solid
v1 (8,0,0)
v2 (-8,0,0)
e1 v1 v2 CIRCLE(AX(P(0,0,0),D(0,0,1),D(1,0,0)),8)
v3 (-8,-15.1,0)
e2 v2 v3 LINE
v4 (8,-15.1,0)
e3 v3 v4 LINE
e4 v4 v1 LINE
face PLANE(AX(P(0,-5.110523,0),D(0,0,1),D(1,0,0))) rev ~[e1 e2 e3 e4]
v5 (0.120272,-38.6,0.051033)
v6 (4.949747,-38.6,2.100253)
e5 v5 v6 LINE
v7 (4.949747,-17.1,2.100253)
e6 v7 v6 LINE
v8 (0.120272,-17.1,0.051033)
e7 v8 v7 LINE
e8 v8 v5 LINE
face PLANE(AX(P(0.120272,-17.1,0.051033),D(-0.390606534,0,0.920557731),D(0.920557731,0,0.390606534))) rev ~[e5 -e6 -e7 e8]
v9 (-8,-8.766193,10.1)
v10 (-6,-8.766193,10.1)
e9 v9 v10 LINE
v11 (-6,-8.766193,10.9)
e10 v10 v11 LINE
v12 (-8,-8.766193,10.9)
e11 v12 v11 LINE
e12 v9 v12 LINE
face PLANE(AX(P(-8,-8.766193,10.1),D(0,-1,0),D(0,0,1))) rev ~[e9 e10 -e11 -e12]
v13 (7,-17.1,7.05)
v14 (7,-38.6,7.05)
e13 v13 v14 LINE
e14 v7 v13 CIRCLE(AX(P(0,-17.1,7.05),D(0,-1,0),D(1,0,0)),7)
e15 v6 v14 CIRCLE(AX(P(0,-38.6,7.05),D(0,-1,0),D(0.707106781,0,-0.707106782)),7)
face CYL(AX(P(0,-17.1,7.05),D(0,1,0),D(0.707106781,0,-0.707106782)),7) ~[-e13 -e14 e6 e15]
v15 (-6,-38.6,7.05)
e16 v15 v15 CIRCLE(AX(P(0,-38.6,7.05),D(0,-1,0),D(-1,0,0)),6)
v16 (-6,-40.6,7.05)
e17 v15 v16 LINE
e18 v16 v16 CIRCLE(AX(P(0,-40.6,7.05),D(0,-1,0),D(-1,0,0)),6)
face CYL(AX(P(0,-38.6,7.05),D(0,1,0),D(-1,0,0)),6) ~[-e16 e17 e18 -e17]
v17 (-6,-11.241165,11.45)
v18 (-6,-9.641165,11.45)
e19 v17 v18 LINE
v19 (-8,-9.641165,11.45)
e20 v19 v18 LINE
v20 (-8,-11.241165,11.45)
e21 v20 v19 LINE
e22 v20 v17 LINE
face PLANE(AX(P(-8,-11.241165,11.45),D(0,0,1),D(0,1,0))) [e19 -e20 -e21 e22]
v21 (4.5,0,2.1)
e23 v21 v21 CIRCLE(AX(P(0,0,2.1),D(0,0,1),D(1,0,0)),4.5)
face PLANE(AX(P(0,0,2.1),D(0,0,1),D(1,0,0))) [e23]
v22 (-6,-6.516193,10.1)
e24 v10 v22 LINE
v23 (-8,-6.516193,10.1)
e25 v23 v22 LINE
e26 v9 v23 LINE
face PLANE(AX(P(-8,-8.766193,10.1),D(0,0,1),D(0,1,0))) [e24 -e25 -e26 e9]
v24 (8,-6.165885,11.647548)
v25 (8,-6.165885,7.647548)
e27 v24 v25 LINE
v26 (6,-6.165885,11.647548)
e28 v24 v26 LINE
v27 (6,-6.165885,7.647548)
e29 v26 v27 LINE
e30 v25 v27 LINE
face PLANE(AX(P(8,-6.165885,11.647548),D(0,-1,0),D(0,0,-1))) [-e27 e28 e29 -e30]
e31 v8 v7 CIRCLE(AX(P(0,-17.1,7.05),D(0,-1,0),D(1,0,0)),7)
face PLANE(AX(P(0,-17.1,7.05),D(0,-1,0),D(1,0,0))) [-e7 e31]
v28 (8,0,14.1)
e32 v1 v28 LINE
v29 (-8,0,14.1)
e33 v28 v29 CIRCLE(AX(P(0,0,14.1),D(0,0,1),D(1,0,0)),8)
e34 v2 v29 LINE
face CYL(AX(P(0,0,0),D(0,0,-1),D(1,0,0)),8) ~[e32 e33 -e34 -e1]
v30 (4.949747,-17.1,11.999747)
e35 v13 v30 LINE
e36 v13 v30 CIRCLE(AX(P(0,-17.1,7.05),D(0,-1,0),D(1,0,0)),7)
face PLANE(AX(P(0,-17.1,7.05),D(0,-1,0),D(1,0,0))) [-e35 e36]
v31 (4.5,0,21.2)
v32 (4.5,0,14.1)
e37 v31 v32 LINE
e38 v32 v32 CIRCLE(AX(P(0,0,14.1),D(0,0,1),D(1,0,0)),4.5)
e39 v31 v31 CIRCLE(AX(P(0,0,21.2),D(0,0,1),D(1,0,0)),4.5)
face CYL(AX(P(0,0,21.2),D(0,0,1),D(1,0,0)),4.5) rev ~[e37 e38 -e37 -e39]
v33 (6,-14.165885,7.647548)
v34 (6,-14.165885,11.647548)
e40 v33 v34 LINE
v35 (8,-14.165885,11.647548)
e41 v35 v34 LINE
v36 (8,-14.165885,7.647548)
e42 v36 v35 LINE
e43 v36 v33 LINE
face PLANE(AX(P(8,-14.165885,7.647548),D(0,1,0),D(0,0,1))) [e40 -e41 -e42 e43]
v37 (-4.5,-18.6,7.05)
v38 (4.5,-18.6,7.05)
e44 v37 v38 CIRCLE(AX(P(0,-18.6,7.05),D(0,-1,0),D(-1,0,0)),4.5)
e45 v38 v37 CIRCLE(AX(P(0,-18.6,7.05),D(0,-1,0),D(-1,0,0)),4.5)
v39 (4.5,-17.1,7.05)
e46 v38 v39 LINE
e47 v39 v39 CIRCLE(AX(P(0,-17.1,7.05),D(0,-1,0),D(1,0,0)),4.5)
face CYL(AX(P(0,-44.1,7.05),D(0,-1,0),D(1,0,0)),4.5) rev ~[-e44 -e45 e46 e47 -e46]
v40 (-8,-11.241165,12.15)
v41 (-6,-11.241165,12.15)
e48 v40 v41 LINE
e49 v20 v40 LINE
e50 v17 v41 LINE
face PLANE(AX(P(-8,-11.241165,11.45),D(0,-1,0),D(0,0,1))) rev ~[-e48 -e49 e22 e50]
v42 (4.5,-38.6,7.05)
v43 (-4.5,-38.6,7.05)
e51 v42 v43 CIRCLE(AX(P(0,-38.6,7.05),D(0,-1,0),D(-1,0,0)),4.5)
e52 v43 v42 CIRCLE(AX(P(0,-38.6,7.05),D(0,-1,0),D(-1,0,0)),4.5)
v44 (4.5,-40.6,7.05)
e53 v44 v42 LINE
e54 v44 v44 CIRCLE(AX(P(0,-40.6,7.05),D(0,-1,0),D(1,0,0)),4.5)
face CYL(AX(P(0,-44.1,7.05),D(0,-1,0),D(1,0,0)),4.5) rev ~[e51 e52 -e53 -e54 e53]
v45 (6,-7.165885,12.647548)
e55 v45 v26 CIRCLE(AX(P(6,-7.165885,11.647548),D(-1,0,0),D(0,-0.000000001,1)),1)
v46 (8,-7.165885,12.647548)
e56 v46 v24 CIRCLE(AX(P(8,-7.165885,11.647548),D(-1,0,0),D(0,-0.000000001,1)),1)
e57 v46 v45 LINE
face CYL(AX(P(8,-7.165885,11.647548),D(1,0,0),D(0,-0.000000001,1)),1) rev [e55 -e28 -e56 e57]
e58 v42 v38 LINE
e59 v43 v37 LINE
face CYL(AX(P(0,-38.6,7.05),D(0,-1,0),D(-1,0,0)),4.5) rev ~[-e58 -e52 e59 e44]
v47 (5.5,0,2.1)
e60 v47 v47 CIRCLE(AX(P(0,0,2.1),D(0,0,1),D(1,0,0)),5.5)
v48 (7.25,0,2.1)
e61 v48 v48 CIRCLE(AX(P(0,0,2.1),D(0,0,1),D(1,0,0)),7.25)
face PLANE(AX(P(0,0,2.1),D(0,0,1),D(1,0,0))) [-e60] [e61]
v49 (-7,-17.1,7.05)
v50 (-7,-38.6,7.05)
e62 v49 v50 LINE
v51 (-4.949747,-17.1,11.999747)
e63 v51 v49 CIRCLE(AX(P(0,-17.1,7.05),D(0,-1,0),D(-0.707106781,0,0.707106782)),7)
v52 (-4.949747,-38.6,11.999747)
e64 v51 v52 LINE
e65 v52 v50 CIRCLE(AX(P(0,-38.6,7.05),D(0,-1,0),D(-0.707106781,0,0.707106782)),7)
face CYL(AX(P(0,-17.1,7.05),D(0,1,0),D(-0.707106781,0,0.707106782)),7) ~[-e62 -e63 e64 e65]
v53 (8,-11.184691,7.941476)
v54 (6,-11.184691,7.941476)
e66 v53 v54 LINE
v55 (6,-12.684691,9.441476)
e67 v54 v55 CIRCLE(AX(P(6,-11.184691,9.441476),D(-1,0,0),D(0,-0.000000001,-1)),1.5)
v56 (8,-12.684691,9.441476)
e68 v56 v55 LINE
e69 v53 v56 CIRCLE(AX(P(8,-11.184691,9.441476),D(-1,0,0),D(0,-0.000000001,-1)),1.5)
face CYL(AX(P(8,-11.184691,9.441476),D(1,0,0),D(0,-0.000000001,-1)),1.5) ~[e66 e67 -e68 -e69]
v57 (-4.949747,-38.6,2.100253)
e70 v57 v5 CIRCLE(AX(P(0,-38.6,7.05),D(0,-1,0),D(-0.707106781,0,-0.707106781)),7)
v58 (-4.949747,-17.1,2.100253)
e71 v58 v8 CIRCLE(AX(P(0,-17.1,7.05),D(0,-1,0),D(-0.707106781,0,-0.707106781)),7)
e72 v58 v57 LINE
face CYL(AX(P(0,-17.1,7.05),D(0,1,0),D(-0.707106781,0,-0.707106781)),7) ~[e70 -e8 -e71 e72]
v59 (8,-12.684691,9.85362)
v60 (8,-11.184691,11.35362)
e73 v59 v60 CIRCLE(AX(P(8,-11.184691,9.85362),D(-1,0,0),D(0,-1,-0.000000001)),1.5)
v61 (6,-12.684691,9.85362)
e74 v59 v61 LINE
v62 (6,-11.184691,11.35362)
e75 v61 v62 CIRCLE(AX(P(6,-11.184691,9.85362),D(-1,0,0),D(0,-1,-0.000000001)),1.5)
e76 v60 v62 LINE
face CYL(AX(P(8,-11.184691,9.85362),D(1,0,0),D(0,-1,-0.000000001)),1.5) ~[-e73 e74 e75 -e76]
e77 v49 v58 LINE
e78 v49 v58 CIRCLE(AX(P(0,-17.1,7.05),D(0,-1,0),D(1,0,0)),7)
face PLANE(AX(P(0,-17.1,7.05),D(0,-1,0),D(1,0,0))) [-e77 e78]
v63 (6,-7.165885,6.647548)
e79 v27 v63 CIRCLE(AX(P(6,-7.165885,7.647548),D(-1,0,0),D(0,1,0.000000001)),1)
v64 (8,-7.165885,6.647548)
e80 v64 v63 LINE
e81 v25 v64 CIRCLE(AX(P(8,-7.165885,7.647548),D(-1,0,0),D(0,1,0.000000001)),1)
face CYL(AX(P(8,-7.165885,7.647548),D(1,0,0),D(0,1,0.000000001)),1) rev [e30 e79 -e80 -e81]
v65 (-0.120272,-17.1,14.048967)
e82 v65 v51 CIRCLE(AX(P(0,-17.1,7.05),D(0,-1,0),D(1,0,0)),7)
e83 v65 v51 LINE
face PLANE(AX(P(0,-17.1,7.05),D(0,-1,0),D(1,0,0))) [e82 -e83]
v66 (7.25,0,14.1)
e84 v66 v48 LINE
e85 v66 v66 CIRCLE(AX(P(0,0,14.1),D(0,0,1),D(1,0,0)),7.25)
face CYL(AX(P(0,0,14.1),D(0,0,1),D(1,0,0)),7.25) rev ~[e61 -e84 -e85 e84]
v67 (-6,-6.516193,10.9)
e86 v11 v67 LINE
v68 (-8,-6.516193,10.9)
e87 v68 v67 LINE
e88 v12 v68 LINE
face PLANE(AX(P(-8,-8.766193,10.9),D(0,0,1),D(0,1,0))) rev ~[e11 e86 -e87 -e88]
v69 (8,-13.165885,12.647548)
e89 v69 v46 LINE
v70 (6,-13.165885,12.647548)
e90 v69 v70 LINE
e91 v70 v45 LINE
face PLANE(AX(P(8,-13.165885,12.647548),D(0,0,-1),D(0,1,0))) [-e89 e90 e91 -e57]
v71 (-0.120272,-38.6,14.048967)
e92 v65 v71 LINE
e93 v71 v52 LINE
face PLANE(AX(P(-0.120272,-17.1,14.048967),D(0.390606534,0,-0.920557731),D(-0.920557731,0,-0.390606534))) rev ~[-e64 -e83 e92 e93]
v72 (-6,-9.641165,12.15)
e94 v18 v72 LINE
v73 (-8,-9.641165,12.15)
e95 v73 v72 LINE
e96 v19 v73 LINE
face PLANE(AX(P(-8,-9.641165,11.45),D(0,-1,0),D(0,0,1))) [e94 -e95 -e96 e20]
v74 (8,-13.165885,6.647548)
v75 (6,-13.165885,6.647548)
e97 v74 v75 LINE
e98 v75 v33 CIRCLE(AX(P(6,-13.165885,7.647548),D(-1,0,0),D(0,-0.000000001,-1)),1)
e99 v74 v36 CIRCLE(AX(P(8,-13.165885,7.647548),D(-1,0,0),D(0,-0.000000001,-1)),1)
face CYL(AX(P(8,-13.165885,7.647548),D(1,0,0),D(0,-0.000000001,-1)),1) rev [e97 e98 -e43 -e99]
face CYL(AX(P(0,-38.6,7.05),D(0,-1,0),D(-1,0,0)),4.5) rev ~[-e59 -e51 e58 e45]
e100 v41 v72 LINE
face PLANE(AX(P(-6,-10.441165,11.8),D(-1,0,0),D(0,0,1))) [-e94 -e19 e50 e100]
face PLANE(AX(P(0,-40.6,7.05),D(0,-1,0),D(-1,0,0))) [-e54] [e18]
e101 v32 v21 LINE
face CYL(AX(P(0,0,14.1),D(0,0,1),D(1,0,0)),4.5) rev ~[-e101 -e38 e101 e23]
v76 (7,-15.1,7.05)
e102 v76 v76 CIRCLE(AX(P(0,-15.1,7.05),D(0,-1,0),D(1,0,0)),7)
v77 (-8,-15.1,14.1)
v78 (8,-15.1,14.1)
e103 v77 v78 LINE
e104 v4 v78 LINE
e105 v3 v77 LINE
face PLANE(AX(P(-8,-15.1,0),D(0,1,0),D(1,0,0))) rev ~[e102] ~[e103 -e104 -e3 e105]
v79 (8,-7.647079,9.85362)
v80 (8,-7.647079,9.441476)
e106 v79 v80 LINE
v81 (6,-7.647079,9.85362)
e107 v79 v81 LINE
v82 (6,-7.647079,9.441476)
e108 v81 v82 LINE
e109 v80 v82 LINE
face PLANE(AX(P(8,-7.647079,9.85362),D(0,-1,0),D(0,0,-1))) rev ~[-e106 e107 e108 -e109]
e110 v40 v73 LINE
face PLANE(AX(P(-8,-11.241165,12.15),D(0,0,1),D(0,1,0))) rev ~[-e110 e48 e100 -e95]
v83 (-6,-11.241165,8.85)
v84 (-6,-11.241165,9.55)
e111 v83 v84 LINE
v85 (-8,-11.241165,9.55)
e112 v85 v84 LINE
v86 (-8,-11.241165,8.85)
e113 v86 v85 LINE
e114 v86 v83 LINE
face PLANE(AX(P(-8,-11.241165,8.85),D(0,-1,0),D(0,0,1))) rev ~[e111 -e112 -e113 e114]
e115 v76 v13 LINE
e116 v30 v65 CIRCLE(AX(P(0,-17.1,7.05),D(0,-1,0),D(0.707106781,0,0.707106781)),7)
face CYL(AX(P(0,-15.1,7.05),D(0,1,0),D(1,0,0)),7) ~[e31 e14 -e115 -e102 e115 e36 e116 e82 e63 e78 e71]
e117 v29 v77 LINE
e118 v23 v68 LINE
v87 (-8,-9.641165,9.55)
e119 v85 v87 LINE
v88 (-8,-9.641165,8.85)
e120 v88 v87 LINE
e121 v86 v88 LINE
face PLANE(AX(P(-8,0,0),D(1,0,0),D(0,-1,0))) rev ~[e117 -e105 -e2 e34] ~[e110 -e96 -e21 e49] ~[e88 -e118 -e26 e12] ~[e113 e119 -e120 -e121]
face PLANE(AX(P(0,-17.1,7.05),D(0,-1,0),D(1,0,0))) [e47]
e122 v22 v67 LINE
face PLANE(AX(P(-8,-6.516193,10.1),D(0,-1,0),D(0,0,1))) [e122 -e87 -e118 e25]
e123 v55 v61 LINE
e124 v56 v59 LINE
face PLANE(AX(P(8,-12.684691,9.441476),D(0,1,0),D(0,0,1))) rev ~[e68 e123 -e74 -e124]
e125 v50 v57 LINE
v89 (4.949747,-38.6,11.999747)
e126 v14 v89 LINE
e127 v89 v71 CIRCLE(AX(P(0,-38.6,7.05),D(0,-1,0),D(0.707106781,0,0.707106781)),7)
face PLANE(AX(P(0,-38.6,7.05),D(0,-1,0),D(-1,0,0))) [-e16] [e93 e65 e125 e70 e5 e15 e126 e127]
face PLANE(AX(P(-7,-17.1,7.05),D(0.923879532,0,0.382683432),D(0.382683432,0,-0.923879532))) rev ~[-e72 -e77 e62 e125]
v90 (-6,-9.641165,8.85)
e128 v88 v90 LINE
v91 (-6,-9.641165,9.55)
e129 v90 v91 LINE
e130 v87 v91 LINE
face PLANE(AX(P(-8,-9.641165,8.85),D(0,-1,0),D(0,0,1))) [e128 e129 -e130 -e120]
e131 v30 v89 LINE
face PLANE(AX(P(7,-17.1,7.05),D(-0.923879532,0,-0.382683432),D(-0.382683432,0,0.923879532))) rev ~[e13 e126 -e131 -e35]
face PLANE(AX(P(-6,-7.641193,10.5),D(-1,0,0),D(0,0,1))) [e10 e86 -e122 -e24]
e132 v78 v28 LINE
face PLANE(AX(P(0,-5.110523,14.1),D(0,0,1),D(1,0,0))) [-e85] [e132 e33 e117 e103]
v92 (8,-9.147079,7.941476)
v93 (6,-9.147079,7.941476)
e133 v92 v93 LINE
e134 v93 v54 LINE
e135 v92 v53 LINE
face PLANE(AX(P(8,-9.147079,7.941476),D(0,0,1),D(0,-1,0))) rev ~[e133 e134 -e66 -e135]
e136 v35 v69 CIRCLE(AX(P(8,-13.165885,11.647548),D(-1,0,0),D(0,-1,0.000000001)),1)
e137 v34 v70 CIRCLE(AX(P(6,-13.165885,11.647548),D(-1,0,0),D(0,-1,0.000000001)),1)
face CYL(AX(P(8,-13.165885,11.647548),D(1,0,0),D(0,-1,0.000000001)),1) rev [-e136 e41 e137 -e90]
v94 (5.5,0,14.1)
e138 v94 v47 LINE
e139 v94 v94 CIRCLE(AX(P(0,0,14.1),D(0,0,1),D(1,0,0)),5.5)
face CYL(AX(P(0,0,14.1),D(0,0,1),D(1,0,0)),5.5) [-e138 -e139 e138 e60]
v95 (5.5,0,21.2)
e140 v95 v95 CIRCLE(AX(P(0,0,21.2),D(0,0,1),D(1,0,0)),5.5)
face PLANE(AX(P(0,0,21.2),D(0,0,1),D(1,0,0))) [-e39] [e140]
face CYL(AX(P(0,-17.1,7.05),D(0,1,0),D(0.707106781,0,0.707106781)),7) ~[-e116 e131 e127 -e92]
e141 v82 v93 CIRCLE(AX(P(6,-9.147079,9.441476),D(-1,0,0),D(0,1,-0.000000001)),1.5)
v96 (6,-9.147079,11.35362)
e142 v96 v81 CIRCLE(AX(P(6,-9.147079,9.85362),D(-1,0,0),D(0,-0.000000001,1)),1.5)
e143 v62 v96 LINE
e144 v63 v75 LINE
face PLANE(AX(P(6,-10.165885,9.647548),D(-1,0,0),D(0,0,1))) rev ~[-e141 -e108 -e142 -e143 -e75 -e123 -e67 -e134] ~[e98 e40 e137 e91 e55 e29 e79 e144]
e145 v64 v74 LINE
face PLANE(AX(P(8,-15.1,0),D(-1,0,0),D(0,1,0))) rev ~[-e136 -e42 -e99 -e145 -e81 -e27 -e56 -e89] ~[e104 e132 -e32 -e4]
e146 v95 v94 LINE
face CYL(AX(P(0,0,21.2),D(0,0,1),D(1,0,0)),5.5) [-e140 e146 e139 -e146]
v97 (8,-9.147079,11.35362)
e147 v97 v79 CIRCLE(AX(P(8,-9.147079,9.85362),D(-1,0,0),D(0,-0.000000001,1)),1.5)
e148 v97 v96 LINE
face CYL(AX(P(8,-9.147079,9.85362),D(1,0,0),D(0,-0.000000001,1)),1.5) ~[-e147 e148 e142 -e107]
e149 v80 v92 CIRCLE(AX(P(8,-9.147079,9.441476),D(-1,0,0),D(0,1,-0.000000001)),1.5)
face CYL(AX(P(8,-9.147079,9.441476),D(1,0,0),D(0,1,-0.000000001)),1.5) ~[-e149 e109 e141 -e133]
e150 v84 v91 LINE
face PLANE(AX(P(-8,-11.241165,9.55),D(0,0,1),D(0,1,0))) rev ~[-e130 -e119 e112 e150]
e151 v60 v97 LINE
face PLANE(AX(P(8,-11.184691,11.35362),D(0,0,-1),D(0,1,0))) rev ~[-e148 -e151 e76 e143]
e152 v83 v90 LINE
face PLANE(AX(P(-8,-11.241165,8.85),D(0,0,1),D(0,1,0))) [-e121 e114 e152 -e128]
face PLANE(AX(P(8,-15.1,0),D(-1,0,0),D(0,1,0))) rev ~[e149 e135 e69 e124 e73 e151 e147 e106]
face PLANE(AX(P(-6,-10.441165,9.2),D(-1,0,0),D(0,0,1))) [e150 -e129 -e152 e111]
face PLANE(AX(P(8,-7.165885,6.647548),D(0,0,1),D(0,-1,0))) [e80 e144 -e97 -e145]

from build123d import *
from build123d.topology import SkipClean

# Parameters (mm, degrees)
BOSS_EXTRUDE1_DEPTH = 14.1
SKETCH2_R           = 7
BOSS_EXTRUDE2_DEPTH = 2
BOSS_EXTRUDE6_DEPTH = 21.5
SKETCH9_R           = 4.5
CUT_EXTRUDE6_DEPTH  = 20
SKETCH11_R          = 6
BOSS_EXTRUDE8_DEPTH = 2
CUT_EXTRUDE7_START  = 27
SKETCH3_R           = 4.5
CUT_EXTRUDE7_DEPTH  = 27
SKETCH12_R          = 4.5
CUT_EXTRUDE8_DEPTH  = 12
SKETCH12_3_R        = 7.25
SKETCH12_3_R_2      = 5.5
CUT_EXTRUDE9_DEPTH  = 12
BOSS_EXTRUDE9_START = 7.1
SKETCH12_4_R        = 5.5
SKETCH12_4_R_2      = 4.5
BOSS_EXTRUDE9_DEPTH = 7.1
SKETCH13_W          = 0.8
SKETCH13_H          = 2.25
SKETCH13_W_2        = 0.7
SKETCH13_H_2        = 1.6
CUT_EXTRUDE10_DEPTH = 2
CUT_EXTRUDE12_DEPTH = 2


with BuildPart() as part:
    # Sketch1 → Boss-Extrude1 (new body)
    with BuildSketch(Plane.XY):
        with BuildLine():
            ThreePointArc((8, 0), (0, 8), (-8, 0))
            Line((-8, 0), (-8, -15.1))
            Line((-8, -15.1), (8, -15.1))
            Line((8, -15.1), (8, 0))
        make_face()
    extrude(amount=BOSS_EXTRUDE1_DEPTH)

    # Sketch2 → Boss-Extrude2 (add)
    with BuildSketch(Plane.XZ.offset(15.1)):
        with Locations((0, 7.05)):
            Circle(SKETCH2_R)
    extrude(amount=BOSS_EXTRUDE2_DEPTH)

    # Sketch8 → Boss-Extrude6 (add)
    with SkipClean():  # the faces are left unmerged after this step: merging them gives an invalid solid
        with BuildSketch(Plane(origin=(0, -17.1, 0), x_dir=(-1, 0, 0), z_dir=(0, -1, 0))):
            with BuildLine():
                Line((7, -7.05), (4.949747468, -2.100252532))
                ThreePointArc((4.949747468, -2.100252532), (2.623124592, -0.560067999), (-0.120272225, -0.05103332))
                Line((-0.120272225, -0.05103332), (-4.949747468, -2.100252532))
                ThreePointArc((-4.949747468, -2.100252532), (-6.467156728, -4.371215973), (-7, -7.05))
                Line((-7, -7.05), (-4.949747468, -11.999747468))
                ThreePointArc((-4.949747468, -11.999747468), (-2.623124592, -13.539932001), (0.120272225, -14.04896668))
                Line((0.120272225, -14.04896668), (4.949747468, -11.999747468))
                ThreePointArc((4.949747468, -11.999747468), (6.467156728, -9.728784027), (7, -7.05))
            make_face()
        extrude(amount=BOSS_EXTRUDE6_DEPTH)

    # Sketch9 → Cut-Extrude6 (cut)
    with SkipClean():  # the faces are left unmerged after this step: merging them gives an invalid solid
        with BuildSketch(Plane(origin=(0, -38.6, 0), x_dir=(-1, 0, 0), z_dir=(0, -1, 0))):
            with Locations((0, -7.05)):
                Circle(SKETCH9_R)
        extrude(amount=-CUT_EXTRUDE6_DEPTH, mode=Mode.SUBTRACT)

    # Sketch11 → Boss-Extrude8 (add)
    with SkipClean():  # the faces are left unmerged after this step: merging them gives an invalid solid
        with BuildSketch(Plane(origin=(0, -38.6, 0), x_dir=(-1, 0, 0), z_dir=(0, -1, 0))):
            with Locations((0, -7.05)):
                Circle(SKETCH11_R)
        extrude(amount=BOSS_EXTRUDE8_DEPTH)

    # Sketch3 → Cut-Extrude7 (cut)
    with SkipClean():  # the faces are left unmerged after this step: merging them gives an invalid solid
        with BuildSketch(Plane.XZ.offset(17.1).offset(CUT_EXTRUDE7_START)):
            with Locations((0, 7.05)):
                Circle(SKETCH3_R)
        extrude(amount=-CUT_EXTRUDE7_DEPTH, mode=Mode.SUBTRACT)

    # Sketch12 → Cut-Extrude8 (cut)
    with SkipClean():  # the faces are left unmerged after this step: merging them gives an invalid solid
        with BuildSketch(Plane.XY.offset(14.1)):
            Circle(SKETCH12_R)
        extrude(amount=-CUT_EXTRUDE8_DEPTH, mode=Mode.SUBTRACT)

    # Sketch12<3> → Cut-Extrude9 (cut)
    with SkipClean():  # the faces are left unmerged after this step: merging them gives an invalid solid
        with BuildSketch(Plane.XY.offset(14.1)):
            Circle(SKETCH12_3_R)
            Circle(SKETCH12_3_R_2, mode=Mode.SUBTRACT)
        extrude(amount=-CUT_EXTRUDE9_DEPTH, mode=Mode.SUBTRACT)

    # Sketch12<4> → Boss-Extrude9 (add)
    with SkipClean():  # the faces are left unmerged after this step: merging them gives an invalid solid
        with BuildSketch(Plane.XY.offset(14.1).offset(BOSS_EXTRUDE9_START)):
            Circle(SKETCH12_4_R)
            Circle(SKETCH12_4_R_2, mode=Mode.SUBTRACT)
        extrude(amount=-BOSS_EXTRUDE9_DEPTH)

    # Sketch13 → Cut-Extrude10 (cut)
    with SkipClean():  # the faces are left unmerged after this step: merging them gives an invalid solid
        with BuildSketch(Plane.ZY.offset(8)):
            with Locations((10.5, -7.641192761)):
                Rectangle(SKETCH13_W, SKETCH13_H)
            with Locations((11.8, -10.441164669)):
                Rectangle(SKETCH13_W_2, SKETCH13_H_2)
            with Locations((9.2, -10.441164669)):
                Rectangle(SKETCH13_W_2, SKETCH13_H_2)
        extrude(amount=-CUT_EXTRUDE10_DEPTH, mode=Mode.SUBTRACT)

    # Sketch14 → Cut-Extrude12 (cut)
    with SkipClean():  # the faces are left unmerged after this step: merging them gives an invalid solid
        with BuildSketch(Plane(origin=(8, 0, 0), x_dir=(0, 0, -1), z_dir=(1, 0, 0))):
            with BuildLine():
                Line((-7.64754844, -14.165884792), (-11.64754844, -14.165884792))
                ThreePointArc((-11.64754844, -14.165884792), (-12.354655221, -13.872991573), (-12.64754844, -13.165884792))
                Line((-12.64754844, -13.165884792), (-12.64754844, -7.165884792))
                ThreePointArc((-12.64754844, -7.165884792), (-12.354655221, -6.45877801), (-11.64754844, -6.165884792))
                Line((-11.64754844, -6.165884792), (-7.64754844, -6.165884792))
                ThreePointArc((-7.64754844, -6.165884792), (-6.940441659, -6.45877801), (-6.64754844, -7.165884792))
                Line((-6.64754844, -7.165884792), (-6.64754844, -13.165884792))
                ThreePointArc((-6.64754844, -13.165884792), (-6.940441659, -13.872991573), (-7.64754844, -14.165884792))
            make_face()
            with BuildLine():
                Line((-9.441476419, -12.684690809), (-9.85362046, -12.684690809))
                ThreePointArc((-9.85362046, -12.684690809), (-10.914280632, -12.245350981), (-11.35362046, -11.184690809))
                Line((-11.35362046, -11.184690809), (-11.35362046, -9.147078774))
                ThreePointArc((-11.35362046, -9.147078774), (-10.914280632, -8.086418602), (-9.85362046, -7.647078774))
                Line((-9.85362046, -7.647078774), (-9.441476419, -7.647078774))
                ThreePointArc((-9.441476419, -7.647078774), (-8.380816248, -8.086418602), (-7.941476419, -9.147078774))
                Line((-7.941476419, -9.147078774), (-7.941476419, -11.184690809))
                ThreePointArc((-7.941476419, -11.184690809), (-8.380816248, -12.245350981), (-9.441476419, -12.684690809))
            make_face(mode=Mode.SUBTRACT)
        extrude(amount=-CUT_EXTRUDE12_DEPTH, mode=Mode.SUBTRACT)


solid = part.part
